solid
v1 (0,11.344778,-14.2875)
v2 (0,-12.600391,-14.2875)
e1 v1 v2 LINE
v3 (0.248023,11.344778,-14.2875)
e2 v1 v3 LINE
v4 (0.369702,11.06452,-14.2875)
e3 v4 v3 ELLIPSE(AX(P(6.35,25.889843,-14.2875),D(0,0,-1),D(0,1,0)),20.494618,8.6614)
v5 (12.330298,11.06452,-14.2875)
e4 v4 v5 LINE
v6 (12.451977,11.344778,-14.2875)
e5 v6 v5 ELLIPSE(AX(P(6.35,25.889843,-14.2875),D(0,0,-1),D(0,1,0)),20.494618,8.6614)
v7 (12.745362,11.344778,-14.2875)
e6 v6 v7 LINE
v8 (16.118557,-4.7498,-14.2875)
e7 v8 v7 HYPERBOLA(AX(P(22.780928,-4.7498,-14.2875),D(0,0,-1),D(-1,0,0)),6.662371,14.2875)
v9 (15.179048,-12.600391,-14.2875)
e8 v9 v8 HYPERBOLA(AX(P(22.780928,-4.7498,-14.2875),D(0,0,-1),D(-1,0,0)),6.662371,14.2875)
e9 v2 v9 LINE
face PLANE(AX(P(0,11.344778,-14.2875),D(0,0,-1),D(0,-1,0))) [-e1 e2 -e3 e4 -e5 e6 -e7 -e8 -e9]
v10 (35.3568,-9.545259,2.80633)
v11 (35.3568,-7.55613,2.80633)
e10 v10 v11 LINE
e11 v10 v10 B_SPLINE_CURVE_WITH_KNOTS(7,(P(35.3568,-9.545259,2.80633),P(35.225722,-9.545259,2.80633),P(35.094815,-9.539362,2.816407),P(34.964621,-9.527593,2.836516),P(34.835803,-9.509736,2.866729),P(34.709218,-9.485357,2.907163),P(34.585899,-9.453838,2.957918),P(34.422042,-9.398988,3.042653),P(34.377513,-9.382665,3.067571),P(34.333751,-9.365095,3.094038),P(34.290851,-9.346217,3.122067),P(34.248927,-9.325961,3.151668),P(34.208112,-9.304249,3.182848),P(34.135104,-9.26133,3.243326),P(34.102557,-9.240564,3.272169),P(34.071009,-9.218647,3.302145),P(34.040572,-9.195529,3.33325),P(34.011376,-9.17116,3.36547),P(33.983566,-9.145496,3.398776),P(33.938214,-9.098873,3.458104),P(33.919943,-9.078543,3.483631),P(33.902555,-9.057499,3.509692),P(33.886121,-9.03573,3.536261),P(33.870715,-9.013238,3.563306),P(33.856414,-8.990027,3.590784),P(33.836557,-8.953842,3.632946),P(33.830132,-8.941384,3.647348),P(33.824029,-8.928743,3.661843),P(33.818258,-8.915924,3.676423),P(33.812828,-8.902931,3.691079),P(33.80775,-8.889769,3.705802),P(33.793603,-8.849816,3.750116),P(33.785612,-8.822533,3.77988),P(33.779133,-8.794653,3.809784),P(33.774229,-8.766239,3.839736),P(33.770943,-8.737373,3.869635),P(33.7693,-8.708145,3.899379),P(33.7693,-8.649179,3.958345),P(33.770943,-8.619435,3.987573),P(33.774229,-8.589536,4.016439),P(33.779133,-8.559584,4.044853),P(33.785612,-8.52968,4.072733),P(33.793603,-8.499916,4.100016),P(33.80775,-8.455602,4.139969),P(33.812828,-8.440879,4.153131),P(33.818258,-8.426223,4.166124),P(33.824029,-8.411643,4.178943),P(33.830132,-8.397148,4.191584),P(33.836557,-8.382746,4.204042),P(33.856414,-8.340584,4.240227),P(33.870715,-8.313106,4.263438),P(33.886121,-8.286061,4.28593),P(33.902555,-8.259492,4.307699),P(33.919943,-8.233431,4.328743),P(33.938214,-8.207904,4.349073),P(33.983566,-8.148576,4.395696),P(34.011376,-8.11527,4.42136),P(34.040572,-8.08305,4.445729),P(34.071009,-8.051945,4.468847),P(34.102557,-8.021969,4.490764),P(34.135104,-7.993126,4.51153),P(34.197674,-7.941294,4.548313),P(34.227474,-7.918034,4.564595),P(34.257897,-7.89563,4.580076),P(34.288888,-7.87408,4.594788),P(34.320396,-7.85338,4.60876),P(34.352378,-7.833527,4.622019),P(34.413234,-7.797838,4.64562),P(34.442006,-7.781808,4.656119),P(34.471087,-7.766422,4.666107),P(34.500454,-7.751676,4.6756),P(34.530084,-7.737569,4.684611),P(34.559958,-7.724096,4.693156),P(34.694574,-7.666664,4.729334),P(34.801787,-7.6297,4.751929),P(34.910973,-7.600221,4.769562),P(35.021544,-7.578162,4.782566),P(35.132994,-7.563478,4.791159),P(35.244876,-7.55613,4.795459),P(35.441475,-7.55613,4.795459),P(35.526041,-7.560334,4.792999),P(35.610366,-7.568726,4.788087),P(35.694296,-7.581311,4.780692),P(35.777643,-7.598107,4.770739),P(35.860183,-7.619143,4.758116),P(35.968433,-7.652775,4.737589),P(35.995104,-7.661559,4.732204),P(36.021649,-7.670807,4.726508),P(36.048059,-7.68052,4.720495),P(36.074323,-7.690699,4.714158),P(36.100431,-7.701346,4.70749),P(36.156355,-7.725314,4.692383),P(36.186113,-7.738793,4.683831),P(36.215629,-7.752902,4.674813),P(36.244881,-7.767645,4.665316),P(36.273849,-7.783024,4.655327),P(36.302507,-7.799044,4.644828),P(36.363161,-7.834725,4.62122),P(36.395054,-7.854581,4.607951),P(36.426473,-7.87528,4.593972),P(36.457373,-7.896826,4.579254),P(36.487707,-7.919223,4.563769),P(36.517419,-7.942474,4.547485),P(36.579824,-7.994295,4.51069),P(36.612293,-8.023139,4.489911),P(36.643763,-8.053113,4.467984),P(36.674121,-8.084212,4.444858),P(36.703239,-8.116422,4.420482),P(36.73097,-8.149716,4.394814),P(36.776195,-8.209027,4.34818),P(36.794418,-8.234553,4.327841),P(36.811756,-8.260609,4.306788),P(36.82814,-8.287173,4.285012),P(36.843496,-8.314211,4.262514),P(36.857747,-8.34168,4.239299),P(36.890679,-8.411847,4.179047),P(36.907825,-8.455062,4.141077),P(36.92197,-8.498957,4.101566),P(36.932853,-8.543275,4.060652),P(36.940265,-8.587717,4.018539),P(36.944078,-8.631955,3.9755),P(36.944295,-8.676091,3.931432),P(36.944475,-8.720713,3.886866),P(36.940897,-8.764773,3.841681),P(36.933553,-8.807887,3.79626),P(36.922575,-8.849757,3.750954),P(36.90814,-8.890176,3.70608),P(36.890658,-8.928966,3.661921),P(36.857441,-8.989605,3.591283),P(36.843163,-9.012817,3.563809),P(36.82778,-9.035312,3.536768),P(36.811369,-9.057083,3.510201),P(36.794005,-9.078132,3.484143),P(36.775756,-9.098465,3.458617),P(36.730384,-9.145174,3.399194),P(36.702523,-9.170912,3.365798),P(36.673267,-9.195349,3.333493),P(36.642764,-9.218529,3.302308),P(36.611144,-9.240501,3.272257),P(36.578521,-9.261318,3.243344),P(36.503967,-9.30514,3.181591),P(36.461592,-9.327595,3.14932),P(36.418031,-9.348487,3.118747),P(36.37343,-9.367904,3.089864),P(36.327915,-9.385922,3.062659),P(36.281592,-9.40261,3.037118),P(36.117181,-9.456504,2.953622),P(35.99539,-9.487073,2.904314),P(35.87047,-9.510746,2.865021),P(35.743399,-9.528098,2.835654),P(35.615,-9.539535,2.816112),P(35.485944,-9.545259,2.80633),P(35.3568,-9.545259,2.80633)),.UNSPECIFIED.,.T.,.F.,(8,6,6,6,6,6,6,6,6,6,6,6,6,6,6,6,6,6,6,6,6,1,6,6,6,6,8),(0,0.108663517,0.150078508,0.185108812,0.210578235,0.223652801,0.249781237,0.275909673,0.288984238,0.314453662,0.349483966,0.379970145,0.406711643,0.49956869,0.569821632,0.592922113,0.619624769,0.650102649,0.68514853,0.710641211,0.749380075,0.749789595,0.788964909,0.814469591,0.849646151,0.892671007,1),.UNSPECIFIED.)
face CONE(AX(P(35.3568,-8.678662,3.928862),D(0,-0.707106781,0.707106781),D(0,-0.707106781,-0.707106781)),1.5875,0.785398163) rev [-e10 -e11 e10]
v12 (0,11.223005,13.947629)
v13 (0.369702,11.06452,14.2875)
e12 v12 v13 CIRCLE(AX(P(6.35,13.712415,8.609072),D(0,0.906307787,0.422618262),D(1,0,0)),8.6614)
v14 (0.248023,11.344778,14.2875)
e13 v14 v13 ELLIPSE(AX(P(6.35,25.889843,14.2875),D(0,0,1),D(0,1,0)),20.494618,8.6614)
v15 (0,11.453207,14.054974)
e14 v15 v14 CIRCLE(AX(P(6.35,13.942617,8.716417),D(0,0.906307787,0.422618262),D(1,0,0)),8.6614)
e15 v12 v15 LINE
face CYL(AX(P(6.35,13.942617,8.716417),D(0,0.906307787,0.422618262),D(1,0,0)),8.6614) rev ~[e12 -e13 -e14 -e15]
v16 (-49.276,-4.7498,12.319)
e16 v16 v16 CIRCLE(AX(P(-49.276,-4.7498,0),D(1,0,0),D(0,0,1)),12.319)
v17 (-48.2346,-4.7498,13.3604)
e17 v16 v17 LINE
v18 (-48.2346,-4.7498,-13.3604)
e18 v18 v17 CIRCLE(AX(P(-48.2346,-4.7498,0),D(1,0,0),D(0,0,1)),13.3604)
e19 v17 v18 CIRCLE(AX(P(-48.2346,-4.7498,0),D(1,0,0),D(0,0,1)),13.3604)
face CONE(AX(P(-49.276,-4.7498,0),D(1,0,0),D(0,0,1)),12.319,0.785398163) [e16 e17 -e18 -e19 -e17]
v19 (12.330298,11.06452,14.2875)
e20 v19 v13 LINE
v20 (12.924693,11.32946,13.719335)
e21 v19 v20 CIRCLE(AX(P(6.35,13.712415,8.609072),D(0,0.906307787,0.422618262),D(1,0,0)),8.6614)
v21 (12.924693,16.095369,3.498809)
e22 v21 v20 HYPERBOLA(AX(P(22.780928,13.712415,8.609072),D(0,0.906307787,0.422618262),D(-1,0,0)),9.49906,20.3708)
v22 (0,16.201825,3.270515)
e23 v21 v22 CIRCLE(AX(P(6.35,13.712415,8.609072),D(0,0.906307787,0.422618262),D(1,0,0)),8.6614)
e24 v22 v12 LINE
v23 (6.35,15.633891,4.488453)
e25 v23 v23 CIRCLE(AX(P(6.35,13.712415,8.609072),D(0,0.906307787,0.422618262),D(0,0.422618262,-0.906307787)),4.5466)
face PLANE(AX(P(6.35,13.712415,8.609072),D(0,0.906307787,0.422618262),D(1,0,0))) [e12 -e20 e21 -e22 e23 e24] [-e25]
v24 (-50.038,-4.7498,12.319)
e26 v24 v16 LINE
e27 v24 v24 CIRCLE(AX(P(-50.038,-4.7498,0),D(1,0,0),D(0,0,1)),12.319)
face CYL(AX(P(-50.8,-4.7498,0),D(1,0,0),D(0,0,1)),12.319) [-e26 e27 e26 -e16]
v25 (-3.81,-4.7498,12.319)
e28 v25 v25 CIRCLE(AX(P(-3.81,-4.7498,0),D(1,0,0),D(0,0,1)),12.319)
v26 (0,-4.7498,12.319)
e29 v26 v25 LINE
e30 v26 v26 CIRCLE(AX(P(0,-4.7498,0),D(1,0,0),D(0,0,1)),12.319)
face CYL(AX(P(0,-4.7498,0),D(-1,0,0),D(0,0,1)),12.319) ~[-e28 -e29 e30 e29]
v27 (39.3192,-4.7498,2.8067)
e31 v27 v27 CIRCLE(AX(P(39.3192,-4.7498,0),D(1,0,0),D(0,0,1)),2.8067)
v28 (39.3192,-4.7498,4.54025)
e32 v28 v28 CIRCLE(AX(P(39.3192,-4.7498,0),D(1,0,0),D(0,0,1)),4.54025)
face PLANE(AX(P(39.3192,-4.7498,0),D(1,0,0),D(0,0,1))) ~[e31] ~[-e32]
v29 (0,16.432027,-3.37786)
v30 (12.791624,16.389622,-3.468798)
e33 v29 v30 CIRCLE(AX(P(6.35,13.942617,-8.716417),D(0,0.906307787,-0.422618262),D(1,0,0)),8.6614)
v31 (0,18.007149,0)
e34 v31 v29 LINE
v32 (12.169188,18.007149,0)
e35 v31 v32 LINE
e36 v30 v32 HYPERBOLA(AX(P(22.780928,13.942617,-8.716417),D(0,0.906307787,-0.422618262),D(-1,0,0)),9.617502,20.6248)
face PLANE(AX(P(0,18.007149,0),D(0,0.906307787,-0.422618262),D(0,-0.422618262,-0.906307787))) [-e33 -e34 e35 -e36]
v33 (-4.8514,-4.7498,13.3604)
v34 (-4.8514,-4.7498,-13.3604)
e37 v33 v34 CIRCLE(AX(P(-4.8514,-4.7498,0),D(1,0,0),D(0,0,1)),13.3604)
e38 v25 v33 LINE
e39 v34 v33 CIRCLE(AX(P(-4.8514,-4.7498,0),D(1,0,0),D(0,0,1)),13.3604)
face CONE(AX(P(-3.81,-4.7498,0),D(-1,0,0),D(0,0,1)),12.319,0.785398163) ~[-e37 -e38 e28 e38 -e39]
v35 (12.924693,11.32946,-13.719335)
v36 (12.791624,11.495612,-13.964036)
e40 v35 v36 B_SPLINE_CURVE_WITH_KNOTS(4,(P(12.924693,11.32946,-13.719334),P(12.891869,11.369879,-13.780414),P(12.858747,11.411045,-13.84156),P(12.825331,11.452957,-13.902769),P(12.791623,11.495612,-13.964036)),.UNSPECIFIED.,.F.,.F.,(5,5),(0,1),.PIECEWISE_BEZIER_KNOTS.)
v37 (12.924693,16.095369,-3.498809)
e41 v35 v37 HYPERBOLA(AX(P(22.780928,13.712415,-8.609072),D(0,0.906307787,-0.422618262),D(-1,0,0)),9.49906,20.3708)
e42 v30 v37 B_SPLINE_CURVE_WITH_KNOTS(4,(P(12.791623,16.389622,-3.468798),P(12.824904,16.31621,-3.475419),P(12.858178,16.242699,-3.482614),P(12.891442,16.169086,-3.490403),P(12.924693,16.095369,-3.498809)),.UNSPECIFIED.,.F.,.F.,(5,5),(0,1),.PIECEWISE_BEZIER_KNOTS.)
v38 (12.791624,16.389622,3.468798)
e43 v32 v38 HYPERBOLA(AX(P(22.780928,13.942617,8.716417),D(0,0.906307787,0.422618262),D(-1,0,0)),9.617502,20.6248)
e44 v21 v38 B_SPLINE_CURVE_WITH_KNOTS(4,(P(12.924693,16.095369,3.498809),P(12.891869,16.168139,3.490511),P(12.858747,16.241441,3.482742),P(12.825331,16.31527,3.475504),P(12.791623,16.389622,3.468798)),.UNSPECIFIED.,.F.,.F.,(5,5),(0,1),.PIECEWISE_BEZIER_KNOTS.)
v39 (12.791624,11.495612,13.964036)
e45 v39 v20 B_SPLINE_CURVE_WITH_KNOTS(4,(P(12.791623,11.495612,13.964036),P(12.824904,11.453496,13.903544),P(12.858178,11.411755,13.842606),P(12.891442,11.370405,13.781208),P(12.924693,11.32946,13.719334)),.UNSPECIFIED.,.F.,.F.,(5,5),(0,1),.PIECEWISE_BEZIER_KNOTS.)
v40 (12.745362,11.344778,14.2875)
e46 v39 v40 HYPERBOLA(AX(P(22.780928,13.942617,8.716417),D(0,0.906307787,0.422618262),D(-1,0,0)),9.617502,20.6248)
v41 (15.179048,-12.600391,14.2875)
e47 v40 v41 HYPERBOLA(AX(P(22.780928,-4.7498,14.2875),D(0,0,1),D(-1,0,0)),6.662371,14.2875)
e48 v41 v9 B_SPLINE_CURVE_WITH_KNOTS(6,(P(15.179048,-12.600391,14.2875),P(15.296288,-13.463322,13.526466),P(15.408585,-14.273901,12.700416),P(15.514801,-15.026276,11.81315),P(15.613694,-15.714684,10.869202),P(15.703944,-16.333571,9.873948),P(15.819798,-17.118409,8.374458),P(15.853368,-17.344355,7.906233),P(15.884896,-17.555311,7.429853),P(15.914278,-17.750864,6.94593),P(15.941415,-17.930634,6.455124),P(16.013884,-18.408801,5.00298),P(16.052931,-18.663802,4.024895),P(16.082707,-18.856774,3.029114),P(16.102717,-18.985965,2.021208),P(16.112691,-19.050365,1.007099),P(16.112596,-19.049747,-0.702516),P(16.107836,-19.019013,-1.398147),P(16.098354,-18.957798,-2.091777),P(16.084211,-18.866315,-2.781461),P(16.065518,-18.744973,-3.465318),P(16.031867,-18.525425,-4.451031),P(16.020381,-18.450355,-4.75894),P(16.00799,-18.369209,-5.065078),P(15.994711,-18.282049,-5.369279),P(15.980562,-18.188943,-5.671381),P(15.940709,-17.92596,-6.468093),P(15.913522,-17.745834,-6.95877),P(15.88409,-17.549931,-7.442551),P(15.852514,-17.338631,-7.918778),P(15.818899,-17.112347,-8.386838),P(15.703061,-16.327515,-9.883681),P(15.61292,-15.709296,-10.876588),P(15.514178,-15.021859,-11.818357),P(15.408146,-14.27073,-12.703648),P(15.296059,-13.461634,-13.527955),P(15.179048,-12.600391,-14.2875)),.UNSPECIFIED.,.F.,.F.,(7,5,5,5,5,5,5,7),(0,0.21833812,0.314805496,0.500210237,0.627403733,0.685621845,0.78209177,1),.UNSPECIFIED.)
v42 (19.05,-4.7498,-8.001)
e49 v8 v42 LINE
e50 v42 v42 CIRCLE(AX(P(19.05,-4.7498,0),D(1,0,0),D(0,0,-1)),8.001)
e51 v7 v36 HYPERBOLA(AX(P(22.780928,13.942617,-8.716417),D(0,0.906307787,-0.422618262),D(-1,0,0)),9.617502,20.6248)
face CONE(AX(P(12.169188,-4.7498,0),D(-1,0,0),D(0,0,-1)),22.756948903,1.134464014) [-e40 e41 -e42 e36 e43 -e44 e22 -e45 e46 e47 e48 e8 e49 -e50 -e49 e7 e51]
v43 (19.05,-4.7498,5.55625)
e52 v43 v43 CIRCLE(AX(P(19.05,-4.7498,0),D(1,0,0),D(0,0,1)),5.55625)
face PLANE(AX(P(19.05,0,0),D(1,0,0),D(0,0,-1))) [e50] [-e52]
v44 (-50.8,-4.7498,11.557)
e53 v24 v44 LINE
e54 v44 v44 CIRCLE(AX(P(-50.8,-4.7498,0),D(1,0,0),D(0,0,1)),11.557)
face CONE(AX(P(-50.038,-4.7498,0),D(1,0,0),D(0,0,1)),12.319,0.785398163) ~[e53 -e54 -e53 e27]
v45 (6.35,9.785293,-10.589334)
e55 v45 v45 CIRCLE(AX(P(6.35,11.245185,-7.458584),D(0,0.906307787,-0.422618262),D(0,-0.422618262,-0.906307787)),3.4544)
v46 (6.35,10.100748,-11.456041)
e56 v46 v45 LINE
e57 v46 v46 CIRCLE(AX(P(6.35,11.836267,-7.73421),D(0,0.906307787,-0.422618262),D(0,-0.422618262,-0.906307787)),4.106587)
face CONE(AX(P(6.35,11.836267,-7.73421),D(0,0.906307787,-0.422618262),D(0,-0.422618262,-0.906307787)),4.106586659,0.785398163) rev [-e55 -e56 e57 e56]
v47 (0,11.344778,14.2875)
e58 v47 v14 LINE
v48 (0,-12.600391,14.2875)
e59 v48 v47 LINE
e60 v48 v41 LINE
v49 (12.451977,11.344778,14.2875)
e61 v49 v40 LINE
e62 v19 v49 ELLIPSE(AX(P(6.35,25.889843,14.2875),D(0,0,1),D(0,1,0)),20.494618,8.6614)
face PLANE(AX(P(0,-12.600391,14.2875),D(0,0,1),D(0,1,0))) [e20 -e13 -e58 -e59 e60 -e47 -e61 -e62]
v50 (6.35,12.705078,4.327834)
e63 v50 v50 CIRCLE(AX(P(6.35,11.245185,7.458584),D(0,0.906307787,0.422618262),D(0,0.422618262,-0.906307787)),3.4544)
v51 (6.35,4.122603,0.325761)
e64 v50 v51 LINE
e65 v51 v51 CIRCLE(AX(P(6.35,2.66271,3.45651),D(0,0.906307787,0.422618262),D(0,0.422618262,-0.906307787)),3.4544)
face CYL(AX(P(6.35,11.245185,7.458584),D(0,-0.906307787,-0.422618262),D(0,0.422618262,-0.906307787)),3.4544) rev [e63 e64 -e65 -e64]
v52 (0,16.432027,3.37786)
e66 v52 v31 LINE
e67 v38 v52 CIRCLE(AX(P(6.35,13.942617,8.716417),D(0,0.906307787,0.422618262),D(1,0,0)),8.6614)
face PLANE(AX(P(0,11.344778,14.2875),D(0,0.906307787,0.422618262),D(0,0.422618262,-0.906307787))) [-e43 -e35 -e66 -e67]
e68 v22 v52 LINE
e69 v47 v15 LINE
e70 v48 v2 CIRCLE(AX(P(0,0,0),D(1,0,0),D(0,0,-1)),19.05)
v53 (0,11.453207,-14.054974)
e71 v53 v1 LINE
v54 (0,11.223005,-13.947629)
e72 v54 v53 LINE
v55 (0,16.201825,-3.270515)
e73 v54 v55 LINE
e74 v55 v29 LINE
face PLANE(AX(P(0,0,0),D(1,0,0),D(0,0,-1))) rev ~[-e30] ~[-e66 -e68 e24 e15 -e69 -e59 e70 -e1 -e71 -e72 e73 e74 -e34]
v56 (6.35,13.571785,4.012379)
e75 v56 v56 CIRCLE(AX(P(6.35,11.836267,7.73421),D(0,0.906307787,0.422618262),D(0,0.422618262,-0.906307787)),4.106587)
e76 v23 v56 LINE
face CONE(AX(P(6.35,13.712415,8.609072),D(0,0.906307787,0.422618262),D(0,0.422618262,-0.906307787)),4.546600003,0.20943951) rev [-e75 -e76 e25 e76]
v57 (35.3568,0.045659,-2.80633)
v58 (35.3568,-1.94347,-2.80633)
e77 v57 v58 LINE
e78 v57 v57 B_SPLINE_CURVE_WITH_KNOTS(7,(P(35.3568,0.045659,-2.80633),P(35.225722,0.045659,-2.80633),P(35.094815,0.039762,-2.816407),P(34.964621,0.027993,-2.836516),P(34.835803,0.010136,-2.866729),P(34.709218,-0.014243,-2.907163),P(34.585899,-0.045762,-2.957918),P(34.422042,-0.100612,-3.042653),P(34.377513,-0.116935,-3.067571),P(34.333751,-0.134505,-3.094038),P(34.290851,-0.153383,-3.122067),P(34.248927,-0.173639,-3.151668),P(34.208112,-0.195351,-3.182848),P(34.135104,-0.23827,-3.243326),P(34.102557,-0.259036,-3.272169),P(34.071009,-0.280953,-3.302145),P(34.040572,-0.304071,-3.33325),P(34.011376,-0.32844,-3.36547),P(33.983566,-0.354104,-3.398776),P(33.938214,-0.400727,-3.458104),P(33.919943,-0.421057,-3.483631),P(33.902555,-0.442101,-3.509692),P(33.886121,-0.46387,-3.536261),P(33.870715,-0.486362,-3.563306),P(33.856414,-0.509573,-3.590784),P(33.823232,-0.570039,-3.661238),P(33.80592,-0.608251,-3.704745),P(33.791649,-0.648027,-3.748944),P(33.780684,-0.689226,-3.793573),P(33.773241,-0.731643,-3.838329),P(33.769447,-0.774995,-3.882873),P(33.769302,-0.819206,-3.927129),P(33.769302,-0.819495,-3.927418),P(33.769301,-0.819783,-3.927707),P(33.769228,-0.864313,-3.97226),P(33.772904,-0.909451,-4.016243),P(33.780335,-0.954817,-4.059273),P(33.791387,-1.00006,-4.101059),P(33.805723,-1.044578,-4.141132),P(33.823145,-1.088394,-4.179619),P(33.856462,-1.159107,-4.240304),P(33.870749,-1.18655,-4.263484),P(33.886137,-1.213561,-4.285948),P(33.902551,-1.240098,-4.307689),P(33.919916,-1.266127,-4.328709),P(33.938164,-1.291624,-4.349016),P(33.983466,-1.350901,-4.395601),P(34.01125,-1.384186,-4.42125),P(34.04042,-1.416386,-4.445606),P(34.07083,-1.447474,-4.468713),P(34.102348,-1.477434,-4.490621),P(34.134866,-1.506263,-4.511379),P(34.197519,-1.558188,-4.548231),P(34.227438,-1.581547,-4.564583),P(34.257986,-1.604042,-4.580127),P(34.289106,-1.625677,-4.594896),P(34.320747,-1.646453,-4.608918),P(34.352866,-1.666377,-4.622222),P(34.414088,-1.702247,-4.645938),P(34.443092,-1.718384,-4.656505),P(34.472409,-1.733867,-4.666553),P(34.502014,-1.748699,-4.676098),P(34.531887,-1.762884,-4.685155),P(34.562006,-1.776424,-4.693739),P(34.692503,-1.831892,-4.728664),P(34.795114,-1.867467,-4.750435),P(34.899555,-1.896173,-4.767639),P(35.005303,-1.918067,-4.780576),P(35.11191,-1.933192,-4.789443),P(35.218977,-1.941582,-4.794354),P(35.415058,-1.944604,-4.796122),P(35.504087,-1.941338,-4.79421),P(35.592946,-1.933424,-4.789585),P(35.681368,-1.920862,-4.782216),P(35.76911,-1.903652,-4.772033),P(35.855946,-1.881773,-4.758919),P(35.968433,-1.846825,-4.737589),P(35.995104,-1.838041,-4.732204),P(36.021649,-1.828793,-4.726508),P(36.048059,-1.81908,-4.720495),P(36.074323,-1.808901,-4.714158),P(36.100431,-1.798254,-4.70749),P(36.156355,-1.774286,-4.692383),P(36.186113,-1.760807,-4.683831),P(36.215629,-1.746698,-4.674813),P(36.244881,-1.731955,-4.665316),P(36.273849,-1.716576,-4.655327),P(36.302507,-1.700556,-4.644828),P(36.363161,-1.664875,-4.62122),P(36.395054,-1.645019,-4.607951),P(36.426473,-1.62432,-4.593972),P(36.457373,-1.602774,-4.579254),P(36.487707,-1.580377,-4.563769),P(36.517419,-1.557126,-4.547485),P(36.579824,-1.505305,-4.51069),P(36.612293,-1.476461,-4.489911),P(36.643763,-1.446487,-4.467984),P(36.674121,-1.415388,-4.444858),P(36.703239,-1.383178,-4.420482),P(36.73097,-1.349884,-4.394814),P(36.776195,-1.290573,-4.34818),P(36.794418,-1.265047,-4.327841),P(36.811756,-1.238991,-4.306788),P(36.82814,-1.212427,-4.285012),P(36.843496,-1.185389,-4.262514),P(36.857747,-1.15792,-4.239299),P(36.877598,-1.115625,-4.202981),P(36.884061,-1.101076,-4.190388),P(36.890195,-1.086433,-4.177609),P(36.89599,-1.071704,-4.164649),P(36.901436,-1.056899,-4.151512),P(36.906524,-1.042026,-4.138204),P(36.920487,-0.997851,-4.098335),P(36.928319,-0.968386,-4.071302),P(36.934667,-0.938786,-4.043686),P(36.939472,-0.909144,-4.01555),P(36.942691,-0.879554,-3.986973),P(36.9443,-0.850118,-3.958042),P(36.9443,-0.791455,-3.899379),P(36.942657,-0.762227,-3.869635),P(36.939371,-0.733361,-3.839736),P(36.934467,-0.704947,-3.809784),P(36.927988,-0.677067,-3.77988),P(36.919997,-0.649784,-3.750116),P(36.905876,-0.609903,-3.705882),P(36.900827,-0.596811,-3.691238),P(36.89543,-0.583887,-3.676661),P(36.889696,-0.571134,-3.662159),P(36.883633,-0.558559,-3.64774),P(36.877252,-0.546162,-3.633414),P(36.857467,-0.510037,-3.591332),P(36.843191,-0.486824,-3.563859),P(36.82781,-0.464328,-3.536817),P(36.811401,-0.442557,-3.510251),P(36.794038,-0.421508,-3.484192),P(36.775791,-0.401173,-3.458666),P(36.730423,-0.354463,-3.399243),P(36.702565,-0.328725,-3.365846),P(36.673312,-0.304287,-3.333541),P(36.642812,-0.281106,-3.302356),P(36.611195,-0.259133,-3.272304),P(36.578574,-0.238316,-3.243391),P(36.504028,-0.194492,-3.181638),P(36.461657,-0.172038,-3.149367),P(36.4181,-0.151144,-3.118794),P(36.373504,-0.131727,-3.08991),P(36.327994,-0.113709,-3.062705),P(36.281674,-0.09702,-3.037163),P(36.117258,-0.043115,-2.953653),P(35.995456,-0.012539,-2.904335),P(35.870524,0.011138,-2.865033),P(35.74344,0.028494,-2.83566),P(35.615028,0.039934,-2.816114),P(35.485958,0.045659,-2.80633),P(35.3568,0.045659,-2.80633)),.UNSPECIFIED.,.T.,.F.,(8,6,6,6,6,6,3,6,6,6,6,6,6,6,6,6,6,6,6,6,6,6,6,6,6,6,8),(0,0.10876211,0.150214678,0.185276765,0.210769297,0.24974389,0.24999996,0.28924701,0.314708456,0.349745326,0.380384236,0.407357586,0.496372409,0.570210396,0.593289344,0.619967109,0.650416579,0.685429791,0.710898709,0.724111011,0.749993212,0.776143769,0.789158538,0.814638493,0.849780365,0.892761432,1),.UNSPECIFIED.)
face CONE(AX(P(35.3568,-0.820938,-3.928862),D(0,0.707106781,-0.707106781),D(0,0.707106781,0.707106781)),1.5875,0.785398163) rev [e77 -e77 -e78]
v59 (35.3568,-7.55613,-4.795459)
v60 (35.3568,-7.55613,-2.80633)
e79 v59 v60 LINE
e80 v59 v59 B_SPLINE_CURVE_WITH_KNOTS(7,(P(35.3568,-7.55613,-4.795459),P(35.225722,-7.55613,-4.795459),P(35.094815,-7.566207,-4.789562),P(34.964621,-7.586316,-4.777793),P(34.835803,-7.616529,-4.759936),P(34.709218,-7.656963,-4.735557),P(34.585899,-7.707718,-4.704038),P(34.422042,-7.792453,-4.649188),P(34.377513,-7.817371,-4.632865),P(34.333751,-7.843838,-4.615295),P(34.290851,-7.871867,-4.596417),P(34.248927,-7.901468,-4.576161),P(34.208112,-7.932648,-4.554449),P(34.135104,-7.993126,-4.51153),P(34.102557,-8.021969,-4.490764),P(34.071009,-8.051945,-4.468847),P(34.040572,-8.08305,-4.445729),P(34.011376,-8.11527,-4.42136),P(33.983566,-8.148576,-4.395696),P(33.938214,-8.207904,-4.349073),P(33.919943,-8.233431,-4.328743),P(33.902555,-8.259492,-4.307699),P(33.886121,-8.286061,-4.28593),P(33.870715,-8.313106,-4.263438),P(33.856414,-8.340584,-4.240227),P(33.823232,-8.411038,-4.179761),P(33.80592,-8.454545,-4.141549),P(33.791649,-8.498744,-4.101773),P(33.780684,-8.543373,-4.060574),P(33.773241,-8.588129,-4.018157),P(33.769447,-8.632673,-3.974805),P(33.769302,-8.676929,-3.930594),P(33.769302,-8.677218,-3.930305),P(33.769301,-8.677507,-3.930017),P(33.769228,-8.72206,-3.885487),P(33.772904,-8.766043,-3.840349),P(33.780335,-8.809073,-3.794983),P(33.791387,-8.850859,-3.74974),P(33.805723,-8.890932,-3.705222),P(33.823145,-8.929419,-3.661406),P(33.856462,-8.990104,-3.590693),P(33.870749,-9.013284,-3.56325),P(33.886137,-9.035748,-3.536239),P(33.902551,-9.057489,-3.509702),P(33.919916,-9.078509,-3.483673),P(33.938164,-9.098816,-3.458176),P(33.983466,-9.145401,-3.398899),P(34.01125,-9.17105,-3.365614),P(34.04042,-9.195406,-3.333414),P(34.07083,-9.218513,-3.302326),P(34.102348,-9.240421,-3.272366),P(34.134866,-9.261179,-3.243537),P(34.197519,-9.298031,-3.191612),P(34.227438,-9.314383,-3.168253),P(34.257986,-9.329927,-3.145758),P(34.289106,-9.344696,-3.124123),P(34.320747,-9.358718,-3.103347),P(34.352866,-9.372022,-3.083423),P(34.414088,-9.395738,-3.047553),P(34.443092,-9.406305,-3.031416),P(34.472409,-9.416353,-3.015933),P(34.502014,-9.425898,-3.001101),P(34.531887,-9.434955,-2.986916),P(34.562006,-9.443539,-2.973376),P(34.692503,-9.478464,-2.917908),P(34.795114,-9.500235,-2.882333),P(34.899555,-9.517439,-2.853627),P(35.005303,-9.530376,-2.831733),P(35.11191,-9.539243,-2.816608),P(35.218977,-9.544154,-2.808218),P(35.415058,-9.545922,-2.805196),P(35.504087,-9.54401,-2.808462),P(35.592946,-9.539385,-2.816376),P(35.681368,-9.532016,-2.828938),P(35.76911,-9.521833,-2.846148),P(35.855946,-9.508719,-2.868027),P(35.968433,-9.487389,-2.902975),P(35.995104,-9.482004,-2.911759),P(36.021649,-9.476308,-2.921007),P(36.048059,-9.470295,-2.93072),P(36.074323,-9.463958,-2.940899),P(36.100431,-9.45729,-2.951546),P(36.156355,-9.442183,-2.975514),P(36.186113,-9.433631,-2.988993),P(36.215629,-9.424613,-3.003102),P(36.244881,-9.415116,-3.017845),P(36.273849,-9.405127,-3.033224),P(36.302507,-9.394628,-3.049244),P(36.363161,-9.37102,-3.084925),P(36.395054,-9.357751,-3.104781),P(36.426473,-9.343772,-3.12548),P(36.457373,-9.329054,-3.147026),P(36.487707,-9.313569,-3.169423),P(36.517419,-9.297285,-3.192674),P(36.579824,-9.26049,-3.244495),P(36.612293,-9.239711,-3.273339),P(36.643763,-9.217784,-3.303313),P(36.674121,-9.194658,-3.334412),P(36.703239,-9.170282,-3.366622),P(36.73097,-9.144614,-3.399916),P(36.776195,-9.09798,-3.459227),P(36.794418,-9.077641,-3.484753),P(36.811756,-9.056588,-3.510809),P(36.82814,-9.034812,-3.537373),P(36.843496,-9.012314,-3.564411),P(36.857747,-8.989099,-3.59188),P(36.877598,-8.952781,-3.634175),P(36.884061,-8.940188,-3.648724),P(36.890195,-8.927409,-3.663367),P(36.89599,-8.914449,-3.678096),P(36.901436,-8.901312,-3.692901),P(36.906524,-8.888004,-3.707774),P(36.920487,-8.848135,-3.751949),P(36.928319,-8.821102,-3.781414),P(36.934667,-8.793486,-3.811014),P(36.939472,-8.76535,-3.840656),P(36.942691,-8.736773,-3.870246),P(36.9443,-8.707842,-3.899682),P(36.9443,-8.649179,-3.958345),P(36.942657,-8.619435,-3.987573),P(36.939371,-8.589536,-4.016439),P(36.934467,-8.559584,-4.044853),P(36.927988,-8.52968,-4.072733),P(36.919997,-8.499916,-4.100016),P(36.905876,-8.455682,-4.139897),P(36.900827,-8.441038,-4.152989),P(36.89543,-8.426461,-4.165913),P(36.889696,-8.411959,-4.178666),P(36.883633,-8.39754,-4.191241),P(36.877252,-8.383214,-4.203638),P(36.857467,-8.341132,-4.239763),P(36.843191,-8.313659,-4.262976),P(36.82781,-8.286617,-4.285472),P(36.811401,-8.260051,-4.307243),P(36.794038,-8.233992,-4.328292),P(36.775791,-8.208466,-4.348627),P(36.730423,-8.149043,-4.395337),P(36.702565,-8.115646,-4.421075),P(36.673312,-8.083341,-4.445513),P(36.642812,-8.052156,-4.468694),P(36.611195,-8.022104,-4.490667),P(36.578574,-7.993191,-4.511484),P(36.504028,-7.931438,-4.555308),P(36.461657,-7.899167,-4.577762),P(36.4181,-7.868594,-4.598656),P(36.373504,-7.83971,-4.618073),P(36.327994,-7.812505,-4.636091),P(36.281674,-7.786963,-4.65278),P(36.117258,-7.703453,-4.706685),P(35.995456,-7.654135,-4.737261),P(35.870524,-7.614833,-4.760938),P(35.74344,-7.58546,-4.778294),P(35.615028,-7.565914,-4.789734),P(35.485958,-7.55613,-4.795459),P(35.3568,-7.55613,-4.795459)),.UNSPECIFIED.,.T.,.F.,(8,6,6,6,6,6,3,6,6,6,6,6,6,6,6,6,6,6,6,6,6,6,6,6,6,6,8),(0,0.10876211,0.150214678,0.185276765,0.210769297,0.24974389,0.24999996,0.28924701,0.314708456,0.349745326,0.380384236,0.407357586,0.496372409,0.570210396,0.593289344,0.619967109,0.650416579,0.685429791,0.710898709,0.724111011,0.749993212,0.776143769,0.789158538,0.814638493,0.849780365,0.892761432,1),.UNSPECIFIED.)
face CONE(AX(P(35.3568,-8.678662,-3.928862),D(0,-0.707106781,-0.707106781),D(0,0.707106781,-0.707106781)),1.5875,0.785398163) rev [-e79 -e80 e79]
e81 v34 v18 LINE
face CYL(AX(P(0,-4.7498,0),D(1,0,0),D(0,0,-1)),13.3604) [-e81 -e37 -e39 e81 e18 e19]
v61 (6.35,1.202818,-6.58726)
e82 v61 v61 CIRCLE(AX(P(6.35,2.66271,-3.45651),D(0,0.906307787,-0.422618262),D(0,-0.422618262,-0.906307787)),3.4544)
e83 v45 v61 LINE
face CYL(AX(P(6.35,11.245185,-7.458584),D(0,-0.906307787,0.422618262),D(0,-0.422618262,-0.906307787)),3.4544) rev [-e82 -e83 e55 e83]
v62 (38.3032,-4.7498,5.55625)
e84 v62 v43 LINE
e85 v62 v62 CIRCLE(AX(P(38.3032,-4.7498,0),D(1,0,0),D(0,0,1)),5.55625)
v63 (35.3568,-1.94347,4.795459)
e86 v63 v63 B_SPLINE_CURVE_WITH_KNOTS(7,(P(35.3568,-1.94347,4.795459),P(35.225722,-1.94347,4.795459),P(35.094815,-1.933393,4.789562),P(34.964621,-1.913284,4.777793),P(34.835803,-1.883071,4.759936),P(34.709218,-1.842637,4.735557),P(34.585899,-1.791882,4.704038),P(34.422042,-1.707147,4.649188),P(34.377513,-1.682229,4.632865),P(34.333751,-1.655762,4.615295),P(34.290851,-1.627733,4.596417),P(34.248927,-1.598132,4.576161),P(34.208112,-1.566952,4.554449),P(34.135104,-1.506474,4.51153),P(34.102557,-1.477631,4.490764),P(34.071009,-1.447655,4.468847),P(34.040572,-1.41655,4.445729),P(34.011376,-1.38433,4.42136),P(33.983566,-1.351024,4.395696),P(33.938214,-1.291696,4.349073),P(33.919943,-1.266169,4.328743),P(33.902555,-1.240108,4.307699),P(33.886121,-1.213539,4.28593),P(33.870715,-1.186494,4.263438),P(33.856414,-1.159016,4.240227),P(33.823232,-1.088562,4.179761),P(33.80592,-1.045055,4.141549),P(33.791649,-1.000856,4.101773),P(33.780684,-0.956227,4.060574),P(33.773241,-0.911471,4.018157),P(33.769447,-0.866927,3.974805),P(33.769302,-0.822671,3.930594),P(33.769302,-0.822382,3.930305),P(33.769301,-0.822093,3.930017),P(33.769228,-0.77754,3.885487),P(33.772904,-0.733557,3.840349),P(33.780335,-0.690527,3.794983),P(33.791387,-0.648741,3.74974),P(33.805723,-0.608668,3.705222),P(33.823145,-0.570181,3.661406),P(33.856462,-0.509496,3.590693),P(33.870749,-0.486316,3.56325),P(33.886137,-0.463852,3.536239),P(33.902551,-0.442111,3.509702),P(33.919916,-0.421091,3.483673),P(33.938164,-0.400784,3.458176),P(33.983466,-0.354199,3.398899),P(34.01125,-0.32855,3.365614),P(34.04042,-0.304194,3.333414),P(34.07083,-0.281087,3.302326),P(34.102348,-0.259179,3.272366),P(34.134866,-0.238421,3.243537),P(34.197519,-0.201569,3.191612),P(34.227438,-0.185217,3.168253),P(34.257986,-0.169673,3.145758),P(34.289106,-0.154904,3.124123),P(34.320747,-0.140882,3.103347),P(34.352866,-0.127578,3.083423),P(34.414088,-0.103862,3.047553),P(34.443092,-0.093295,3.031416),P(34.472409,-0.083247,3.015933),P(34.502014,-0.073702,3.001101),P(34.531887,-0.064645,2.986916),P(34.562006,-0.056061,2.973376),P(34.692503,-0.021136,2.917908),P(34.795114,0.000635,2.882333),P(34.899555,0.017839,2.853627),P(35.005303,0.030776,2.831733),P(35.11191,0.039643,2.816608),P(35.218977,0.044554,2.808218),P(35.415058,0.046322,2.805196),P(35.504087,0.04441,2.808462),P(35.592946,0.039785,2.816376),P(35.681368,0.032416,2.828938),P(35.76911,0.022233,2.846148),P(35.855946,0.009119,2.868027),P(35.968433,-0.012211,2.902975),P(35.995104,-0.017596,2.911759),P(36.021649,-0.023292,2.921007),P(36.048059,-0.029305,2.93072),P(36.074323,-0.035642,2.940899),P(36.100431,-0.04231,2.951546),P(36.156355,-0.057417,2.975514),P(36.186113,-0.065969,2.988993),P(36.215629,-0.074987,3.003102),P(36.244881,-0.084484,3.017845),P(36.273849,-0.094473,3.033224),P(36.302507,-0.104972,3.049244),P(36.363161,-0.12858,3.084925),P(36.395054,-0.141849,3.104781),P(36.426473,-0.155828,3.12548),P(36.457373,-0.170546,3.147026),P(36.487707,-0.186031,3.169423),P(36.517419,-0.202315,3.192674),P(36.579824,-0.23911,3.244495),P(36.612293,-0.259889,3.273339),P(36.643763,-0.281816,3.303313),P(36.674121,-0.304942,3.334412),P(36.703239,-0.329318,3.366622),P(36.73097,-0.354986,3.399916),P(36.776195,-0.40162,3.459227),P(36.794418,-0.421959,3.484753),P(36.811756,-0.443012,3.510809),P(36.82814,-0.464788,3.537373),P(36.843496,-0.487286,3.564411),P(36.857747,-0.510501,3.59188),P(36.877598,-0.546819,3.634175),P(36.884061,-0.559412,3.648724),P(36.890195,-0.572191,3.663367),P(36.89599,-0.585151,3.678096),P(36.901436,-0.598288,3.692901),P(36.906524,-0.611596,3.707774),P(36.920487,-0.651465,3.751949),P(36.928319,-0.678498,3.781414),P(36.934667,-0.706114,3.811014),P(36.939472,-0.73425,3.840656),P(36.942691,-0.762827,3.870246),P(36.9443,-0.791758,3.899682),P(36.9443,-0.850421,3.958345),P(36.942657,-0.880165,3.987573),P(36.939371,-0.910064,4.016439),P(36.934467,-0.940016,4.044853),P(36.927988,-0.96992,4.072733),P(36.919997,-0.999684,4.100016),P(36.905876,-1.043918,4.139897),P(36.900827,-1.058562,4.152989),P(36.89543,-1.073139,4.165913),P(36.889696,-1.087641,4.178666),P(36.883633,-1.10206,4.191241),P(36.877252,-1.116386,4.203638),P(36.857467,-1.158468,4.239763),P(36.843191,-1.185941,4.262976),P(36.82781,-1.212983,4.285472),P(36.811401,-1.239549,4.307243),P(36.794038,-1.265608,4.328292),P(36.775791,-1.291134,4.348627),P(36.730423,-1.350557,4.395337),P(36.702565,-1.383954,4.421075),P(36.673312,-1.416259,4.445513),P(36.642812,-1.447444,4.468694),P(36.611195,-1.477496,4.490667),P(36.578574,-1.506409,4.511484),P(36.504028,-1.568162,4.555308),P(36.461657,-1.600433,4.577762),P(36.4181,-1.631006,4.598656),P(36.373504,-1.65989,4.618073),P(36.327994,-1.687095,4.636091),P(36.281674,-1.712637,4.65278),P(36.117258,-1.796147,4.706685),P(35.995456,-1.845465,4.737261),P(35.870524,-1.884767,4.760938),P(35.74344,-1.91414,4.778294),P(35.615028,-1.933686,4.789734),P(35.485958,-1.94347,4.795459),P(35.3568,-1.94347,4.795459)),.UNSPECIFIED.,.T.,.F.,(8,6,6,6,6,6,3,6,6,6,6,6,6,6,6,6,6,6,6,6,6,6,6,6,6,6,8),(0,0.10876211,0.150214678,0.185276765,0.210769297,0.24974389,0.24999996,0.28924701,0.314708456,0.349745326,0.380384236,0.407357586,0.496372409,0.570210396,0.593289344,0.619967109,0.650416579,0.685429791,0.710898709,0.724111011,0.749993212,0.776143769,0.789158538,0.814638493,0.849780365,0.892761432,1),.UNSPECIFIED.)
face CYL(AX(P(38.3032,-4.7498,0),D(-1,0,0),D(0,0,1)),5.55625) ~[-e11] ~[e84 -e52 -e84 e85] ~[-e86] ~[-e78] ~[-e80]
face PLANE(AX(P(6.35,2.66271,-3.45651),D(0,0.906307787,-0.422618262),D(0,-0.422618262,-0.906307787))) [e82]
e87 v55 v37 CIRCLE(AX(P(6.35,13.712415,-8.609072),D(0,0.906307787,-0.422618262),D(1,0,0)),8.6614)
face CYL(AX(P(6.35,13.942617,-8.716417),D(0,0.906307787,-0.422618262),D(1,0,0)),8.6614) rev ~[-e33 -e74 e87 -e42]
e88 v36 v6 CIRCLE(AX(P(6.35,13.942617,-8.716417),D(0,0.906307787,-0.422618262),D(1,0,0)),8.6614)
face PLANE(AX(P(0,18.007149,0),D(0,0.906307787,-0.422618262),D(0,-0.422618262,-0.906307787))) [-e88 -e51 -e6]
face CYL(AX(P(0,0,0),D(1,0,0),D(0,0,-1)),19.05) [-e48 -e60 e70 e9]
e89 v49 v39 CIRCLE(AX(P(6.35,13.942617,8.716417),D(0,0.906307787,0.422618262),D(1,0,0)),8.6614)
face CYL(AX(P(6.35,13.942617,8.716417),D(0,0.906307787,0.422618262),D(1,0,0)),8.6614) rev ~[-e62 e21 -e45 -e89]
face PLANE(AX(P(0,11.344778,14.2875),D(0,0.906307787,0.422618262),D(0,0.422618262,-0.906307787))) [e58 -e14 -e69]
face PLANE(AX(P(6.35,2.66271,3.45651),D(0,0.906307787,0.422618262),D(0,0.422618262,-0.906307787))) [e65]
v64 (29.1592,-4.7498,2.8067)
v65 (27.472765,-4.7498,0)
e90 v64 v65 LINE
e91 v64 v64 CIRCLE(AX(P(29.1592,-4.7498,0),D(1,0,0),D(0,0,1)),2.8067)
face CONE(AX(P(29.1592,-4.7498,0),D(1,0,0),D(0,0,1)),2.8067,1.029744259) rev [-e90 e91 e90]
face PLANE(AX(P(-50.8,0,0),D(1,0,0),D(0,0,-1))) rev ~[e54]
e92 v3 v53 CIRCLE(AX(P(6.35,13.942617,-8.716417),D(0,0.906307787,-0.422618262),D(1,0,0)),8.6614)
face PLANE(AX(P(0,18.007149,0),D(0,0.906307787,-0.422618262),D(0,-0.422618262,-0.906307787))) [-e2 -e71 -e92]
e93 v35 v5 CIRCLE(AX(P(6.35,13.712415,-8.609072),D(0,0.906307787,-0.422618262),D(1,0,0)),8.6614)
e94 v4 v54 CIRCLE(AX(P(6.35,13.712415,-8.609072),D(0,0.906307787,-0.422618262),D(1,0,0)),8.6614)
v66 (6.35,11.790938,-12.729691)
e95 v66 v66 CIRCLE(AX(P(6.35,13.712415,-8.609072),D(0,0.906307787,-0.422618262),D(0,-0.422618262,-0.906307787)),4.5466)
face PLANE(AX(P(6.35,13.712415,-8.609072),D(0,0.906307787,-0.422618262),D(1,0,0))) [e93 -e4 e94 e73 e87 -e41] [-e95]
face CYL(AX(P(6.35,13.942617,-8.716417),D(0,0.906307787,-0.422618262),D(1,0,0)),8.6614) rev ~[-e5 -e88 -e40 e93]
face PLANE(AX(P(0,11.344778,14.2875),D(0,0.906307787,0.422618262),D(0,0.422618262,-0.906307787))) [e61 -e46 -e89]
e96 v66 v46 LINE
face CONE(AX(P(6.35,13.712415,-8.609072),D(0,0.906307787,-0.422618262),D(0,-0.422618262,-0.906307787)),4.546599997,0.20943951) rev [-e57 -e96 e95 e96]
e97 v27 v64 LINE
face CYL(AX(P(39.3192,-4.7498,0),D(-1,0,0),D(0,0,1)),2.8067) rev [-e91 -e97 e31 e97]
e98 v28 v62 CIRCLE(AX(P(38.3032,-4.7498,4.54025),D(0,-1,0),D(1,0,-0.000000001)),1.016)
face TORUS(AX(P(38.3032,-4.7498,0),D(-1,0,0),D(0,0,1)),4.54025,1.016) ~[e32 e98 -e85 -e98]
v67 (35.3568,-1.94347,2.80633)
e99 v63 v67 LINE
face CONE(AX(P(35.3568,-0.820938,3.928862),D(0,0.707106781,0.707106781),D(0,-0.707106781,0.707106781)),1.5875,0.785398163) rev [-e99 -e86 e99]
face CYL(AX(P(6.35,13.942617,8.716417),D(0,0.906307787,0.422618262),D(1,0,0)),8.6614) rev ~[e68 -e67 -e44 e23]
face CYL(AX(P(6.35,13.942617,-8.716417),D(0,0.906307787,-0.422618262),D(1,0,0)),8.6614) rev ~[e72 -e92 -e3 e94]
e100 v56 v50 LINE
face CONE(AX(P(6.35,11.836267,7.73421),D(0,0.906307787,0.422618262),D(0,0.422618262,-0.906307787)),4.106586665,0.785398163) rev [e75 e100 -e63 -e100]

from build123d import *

# Parameters (mm, degrees)
SKETCH1_R           = 19.05
EXTRUDE1_DEPTH      = 19.05
EXTRUDE1_DEPTH_BACK = 50.8
CUT_EXTRUDE1_REACH  = 52.8
SKETCH2_R           = 19.05
SKETCH2_R_2         = 13.3604
CUT_EXTRUDE3_REACH  = 21.05
SKETCH19_R          = 8.6614
CUT_EXTRUDE4_DEPTH  = 0.254
SKETCH20_R          = 8.6614
CUT_EXTRUDE5_DEPTH  = 0.254
CHAMFER1_SIZE       = 0.762
CIRPATTERN1_COUNT   = 4


with BuildPart() as part:
    # Sketch1 → Extrude1 (new body, two sides)
    with BuildSketch(Plane(origin=(0, 0, 0), x_dir=(0, 0, -1), z_dir=(1, 0, 0))) as extrude1_sk:
        Circle(SKETCH1_R)
    extrude(amount=EXTRUDE1_DEPTH)
    extrude(extrude1_sk.sketch, amount=-EXTRUDE1_DEPTH_BACK)

    # Sketch2 → Cut-Extrude1 (cut, up to next)
    with BuildSketch(Plane(origin=(0, 0, 0), x_dir=(0, 0, -1), z_dir=(1, 0, 0)), mode=Mode.PRIVATE) as cut_extrude1_sk1:
        Circle(SKETCH2_R)
        with Locations((0, -4.7498)):
            Circle(SKETCH2_R_2, mode=Mode.SUBTRACT)
    cut_extrude1_tool1 = extrude(cut_extrude1_sk1.sketch, amount=-CUT_EXTRUDE1_REACH, mode=Mode.PRIVATE) & part.part
    add(cut_extrude1_tool1.solids().sort_by_distance((0, 0, 18.511185))[0], mode=Mode.SUBTRACT)

    # Sketch4 → Cut-Extrude3 (cut, up to next)
    with BuildSketch(Plane.ZY, mode=Mode.PRIVATE) as cut_extrude3_sk1:
        with BuildLine():
            Line((14.2875, -12.600390619), (14.2875, 11.344778237))
            Line((14.2875, 11.344778237), (0, 18.007148903))
            Line((0, 18.007148903), (-14.2875, 11.344778237))
            Line((-14.2875, 11.344778237), (-14.2875, -12.600390619))
            ThreePointArc((-14.2875, -12.600390619), (0, 19.05), (14.2875, -12.600390619))
        make_face()
    cut_extrude3_tool1 = extrude(cut_extrude3_sk1.sketch, amount=-CUT_EXTRUDE3_REACH, mode=Mode.PRIVATE) & part.part
    add(cut_extrude3_tool1.solids().sort_by_distance((0, -0.627806, 14.782814))[0], mode=Mode.SUBTRACT)

    # Sketch6 → Cut-Revolve2 (revolve, cut)
    with BuildSketch(Plane.XY, mode=Mode.PRIVATE) as cut_revolve2_sk:
        Polygon((12.169188023, 18.007148903), (19.05, 3.2512), (19.05, 18.007148903), align=None)
    revolve(cut_revolve2_sk.sketch.rotate(Axis((1.987224567, -4.7498, 0), (1, 0, 0)), 270), axis=Axis((1.987224567, -4.7498, 0), (1, 0, 0)), mode=Mode.SUBTRACT)  # turned: the seam where the file's is

    # S2D0002 → Cut-Revolve3 (revolve, cut)
    with BuildSketch(Plane(origin=(6.35, 13.712414668, 8.609072086), x_dir=(0, 0.422618262, -0.906307787), z_dir=(1, 0, 0))):
        Polygon((0, 0), (4.5466, 0), (4.106586662, -2.0701), (3.4544, -2.722286662), (3.4544, -12.192), (0, -12.192), align=None)
    revolve(axis=Axis((6.35, 2.110224902, 3.198882147), (0, 0.906307787, 0.422618262)), mode=Mode.SUBTRACT)

    # Sketch19 → Cut-Extrude4 (cut)
    with BuildSketch(Plane(origin=(0, 14.790960552, 6.897138177), x_dir=(1, 0, 0), z_dir=(0, 0.906307787, 0.422618262))):
        with Locations((6.35, -2.00735222)):
            Circle(SKETCH19_R)
    extrude(amount=-CUT_EXTRUDE4_DEPTH, mode=Mode.SUBTRACT)

    # Sketch8 → Cut-Revolve4 (revolve, cut)
    with BuildSketch(Plane(origin=(6.35, 13.712414668, -8.609072086), x_dir=(0, -0.422618262, -0.906307787), z_dir=(1, 0, 0))):
        Polygon((0, 0), (4.5466, 0), (4.106586662, -2.0701), (3.4544, -2.722286662), (3.4544, -12.192), (0, -12.192), align=None)
    revolve(axis=Axis((6.35, 2.110224902, -3.198882147), (0, 0.906307787, -0.422618262)), mode=Mode.SUBTRACT)

    # Sketch20 → Cut-Extrude5 (cut)
    with BuildSketch(Plane(origin=(0, 14.790960552, -6.897138177), x_dir=(1, 0, 0), z_dir=(0, 0.906307787, -0.422618262))):
        with Locations((6.35, 2.00735222)):
            Circle(SKETCH20_R)
    extrude(amount=-CUT_EXTRUDE5_DEPTH, mode=Mode.SUBTRACT)

    # Sketch10 → Cut-Revolve6 (revolve, cut)
    with BuildSketch(Plane.XY, mode=Mode.PRIVATE) as cut_revolve6_sk:
        Polygon((0, 8.6106), (0, 7.5692), (-3.81, 7.5692), (-4.8514, 8.6106), align=None)
    revolve(cut_revolve6_sk.sketch.rotate(Axis((-5.09397, -4.7498, 0), (1, 0, 0)), 90), axis=Axis((-5.09397, -4.7498, 0), (1, 0, 0)), mode=Mode.SUBTRACT)  # turned: the seam where the file's is

    # Sketch12 → Cut-Revolve8 (revolve, cut)
    with BuildSketch(Plane.XY, mode=Mode.PRIVATE) as cut_revolve8_sk:
        Polygon((-50.8, 8.6106), (-50.8, 7.5692), (-49.276, 7.5692), (-48.2346, 8.6106), align=None)
    revolve(cut_revolve8_sk.sketch.rotate(Axis((-50.92827, -4.7498, 0), (1, 0, 0)), 90), axis=Axis((-50.92827, -4.7498, 0), (1, 0, 0)), mode=Mode.SUBTRACT)  # turned: the seam where the file's is

    # Chamfer1
    chamfer1_edges = [part.edges().sort_by_distance(p)[0] for p in [
        (-50.8, -4.7498, -12.319),
    ]]
    chamfer(chamfer1_edges, length=CHAMFER1_SIZE)

    # Sketch13 → Revolve1 (revolve)
    with BuildSketch(Plane(origin=(0, 0, 0), x_dir=(0, -1, 0), z_dir=(0, 0, 1)), mode=Mode.PRIVATE) as revolve1_sk:
        with BuildLine():
            Line((4.7498, 19.05), (4.7498, 39.3192))
            Line((4.7498, 39.3192), (9.29005, 39.3192))
            ThreePointArc((9.29005, 39.3192), (10.00847049, 39.02162049), (10.30605, 38.3032))
            Line((10.30605, 38.3032), (10.30605, 19.05))
            Line((10.30605, 19.05), (4.7498, 19.05))
        make_face()
    revolve(revolve1_sk.sketch.rotate(Axis((18.03654, -4.7498, 0), (1, 0, 0)), 270), axis=Axis((18.03654, -4.7498, 0), (1, 0, 0)))  # turned: the seam where the file's is

    # S2D0001 → Cut-Revolve9 (revolve, cut)
    with BuildSketch(Plane(origin=(39.3192, -7.5565, 0), x_dir=(0, -1, 0), z_dir=(0, 0, 1)), mode=Mode.PRIVATE) as cut_revolve9_sk:
        Polygon((0, 0), (0, -10.16), (-2.8067, -11.846435499), (-2.8067, 0), align=None)
    revolve(cut_revolve9_sk.sketch.rotate(Axis((26.880442726, -4.7498, 0), (1, 0, 0)), 270), axis=Axis((26.880442726, -4.7498, 0), (1, 0, 0)), mode=Mode.SUBTRACT)  # turned: the seam where the file's is

    # Sketch16 → Cut-Revolve10 (revolve, cut)
    with BuildSketch(Plane(origin=(35.3568, -0.820937947, -3.928862053), x_dir=(-1, 0, 0), z_dir=(0, -0.707106781, -0.707106781)), mode=Mode.PRIVATE) as cut_revolve10_sk:
        Polygon((0, 0), (1.5875, 0), (0, -1.5875), align=None)
    cut_revolve10 = revolve(cut_revolve10_sk.sketch.rotate(Axis((35.3568, -3.280818463, -1.468981537), (0, 0.707106781, -0.707106781)), 90), axis=Axis((35.3568, -3.280818463, -1.468981537), (0, 0.707106781, -0.707106781)), mode=Mode.SUBTRACT)  # turned: the seam where the file's is

    # CirPattern1: Cut-Revolve10 ×4 about axis
    cirpattern1_axis = Axis((18.03654, -4.7498, 0), (-1, 0, 0))
    for i in range(1, CIRPATTERN1_COUNT):
        add(cut_revolve10.rotate(cirpattern1_axis, i * 360 / CIRPATTERN1_COUNT), mode=Mode.SUBTRACT)


solid = part.part
